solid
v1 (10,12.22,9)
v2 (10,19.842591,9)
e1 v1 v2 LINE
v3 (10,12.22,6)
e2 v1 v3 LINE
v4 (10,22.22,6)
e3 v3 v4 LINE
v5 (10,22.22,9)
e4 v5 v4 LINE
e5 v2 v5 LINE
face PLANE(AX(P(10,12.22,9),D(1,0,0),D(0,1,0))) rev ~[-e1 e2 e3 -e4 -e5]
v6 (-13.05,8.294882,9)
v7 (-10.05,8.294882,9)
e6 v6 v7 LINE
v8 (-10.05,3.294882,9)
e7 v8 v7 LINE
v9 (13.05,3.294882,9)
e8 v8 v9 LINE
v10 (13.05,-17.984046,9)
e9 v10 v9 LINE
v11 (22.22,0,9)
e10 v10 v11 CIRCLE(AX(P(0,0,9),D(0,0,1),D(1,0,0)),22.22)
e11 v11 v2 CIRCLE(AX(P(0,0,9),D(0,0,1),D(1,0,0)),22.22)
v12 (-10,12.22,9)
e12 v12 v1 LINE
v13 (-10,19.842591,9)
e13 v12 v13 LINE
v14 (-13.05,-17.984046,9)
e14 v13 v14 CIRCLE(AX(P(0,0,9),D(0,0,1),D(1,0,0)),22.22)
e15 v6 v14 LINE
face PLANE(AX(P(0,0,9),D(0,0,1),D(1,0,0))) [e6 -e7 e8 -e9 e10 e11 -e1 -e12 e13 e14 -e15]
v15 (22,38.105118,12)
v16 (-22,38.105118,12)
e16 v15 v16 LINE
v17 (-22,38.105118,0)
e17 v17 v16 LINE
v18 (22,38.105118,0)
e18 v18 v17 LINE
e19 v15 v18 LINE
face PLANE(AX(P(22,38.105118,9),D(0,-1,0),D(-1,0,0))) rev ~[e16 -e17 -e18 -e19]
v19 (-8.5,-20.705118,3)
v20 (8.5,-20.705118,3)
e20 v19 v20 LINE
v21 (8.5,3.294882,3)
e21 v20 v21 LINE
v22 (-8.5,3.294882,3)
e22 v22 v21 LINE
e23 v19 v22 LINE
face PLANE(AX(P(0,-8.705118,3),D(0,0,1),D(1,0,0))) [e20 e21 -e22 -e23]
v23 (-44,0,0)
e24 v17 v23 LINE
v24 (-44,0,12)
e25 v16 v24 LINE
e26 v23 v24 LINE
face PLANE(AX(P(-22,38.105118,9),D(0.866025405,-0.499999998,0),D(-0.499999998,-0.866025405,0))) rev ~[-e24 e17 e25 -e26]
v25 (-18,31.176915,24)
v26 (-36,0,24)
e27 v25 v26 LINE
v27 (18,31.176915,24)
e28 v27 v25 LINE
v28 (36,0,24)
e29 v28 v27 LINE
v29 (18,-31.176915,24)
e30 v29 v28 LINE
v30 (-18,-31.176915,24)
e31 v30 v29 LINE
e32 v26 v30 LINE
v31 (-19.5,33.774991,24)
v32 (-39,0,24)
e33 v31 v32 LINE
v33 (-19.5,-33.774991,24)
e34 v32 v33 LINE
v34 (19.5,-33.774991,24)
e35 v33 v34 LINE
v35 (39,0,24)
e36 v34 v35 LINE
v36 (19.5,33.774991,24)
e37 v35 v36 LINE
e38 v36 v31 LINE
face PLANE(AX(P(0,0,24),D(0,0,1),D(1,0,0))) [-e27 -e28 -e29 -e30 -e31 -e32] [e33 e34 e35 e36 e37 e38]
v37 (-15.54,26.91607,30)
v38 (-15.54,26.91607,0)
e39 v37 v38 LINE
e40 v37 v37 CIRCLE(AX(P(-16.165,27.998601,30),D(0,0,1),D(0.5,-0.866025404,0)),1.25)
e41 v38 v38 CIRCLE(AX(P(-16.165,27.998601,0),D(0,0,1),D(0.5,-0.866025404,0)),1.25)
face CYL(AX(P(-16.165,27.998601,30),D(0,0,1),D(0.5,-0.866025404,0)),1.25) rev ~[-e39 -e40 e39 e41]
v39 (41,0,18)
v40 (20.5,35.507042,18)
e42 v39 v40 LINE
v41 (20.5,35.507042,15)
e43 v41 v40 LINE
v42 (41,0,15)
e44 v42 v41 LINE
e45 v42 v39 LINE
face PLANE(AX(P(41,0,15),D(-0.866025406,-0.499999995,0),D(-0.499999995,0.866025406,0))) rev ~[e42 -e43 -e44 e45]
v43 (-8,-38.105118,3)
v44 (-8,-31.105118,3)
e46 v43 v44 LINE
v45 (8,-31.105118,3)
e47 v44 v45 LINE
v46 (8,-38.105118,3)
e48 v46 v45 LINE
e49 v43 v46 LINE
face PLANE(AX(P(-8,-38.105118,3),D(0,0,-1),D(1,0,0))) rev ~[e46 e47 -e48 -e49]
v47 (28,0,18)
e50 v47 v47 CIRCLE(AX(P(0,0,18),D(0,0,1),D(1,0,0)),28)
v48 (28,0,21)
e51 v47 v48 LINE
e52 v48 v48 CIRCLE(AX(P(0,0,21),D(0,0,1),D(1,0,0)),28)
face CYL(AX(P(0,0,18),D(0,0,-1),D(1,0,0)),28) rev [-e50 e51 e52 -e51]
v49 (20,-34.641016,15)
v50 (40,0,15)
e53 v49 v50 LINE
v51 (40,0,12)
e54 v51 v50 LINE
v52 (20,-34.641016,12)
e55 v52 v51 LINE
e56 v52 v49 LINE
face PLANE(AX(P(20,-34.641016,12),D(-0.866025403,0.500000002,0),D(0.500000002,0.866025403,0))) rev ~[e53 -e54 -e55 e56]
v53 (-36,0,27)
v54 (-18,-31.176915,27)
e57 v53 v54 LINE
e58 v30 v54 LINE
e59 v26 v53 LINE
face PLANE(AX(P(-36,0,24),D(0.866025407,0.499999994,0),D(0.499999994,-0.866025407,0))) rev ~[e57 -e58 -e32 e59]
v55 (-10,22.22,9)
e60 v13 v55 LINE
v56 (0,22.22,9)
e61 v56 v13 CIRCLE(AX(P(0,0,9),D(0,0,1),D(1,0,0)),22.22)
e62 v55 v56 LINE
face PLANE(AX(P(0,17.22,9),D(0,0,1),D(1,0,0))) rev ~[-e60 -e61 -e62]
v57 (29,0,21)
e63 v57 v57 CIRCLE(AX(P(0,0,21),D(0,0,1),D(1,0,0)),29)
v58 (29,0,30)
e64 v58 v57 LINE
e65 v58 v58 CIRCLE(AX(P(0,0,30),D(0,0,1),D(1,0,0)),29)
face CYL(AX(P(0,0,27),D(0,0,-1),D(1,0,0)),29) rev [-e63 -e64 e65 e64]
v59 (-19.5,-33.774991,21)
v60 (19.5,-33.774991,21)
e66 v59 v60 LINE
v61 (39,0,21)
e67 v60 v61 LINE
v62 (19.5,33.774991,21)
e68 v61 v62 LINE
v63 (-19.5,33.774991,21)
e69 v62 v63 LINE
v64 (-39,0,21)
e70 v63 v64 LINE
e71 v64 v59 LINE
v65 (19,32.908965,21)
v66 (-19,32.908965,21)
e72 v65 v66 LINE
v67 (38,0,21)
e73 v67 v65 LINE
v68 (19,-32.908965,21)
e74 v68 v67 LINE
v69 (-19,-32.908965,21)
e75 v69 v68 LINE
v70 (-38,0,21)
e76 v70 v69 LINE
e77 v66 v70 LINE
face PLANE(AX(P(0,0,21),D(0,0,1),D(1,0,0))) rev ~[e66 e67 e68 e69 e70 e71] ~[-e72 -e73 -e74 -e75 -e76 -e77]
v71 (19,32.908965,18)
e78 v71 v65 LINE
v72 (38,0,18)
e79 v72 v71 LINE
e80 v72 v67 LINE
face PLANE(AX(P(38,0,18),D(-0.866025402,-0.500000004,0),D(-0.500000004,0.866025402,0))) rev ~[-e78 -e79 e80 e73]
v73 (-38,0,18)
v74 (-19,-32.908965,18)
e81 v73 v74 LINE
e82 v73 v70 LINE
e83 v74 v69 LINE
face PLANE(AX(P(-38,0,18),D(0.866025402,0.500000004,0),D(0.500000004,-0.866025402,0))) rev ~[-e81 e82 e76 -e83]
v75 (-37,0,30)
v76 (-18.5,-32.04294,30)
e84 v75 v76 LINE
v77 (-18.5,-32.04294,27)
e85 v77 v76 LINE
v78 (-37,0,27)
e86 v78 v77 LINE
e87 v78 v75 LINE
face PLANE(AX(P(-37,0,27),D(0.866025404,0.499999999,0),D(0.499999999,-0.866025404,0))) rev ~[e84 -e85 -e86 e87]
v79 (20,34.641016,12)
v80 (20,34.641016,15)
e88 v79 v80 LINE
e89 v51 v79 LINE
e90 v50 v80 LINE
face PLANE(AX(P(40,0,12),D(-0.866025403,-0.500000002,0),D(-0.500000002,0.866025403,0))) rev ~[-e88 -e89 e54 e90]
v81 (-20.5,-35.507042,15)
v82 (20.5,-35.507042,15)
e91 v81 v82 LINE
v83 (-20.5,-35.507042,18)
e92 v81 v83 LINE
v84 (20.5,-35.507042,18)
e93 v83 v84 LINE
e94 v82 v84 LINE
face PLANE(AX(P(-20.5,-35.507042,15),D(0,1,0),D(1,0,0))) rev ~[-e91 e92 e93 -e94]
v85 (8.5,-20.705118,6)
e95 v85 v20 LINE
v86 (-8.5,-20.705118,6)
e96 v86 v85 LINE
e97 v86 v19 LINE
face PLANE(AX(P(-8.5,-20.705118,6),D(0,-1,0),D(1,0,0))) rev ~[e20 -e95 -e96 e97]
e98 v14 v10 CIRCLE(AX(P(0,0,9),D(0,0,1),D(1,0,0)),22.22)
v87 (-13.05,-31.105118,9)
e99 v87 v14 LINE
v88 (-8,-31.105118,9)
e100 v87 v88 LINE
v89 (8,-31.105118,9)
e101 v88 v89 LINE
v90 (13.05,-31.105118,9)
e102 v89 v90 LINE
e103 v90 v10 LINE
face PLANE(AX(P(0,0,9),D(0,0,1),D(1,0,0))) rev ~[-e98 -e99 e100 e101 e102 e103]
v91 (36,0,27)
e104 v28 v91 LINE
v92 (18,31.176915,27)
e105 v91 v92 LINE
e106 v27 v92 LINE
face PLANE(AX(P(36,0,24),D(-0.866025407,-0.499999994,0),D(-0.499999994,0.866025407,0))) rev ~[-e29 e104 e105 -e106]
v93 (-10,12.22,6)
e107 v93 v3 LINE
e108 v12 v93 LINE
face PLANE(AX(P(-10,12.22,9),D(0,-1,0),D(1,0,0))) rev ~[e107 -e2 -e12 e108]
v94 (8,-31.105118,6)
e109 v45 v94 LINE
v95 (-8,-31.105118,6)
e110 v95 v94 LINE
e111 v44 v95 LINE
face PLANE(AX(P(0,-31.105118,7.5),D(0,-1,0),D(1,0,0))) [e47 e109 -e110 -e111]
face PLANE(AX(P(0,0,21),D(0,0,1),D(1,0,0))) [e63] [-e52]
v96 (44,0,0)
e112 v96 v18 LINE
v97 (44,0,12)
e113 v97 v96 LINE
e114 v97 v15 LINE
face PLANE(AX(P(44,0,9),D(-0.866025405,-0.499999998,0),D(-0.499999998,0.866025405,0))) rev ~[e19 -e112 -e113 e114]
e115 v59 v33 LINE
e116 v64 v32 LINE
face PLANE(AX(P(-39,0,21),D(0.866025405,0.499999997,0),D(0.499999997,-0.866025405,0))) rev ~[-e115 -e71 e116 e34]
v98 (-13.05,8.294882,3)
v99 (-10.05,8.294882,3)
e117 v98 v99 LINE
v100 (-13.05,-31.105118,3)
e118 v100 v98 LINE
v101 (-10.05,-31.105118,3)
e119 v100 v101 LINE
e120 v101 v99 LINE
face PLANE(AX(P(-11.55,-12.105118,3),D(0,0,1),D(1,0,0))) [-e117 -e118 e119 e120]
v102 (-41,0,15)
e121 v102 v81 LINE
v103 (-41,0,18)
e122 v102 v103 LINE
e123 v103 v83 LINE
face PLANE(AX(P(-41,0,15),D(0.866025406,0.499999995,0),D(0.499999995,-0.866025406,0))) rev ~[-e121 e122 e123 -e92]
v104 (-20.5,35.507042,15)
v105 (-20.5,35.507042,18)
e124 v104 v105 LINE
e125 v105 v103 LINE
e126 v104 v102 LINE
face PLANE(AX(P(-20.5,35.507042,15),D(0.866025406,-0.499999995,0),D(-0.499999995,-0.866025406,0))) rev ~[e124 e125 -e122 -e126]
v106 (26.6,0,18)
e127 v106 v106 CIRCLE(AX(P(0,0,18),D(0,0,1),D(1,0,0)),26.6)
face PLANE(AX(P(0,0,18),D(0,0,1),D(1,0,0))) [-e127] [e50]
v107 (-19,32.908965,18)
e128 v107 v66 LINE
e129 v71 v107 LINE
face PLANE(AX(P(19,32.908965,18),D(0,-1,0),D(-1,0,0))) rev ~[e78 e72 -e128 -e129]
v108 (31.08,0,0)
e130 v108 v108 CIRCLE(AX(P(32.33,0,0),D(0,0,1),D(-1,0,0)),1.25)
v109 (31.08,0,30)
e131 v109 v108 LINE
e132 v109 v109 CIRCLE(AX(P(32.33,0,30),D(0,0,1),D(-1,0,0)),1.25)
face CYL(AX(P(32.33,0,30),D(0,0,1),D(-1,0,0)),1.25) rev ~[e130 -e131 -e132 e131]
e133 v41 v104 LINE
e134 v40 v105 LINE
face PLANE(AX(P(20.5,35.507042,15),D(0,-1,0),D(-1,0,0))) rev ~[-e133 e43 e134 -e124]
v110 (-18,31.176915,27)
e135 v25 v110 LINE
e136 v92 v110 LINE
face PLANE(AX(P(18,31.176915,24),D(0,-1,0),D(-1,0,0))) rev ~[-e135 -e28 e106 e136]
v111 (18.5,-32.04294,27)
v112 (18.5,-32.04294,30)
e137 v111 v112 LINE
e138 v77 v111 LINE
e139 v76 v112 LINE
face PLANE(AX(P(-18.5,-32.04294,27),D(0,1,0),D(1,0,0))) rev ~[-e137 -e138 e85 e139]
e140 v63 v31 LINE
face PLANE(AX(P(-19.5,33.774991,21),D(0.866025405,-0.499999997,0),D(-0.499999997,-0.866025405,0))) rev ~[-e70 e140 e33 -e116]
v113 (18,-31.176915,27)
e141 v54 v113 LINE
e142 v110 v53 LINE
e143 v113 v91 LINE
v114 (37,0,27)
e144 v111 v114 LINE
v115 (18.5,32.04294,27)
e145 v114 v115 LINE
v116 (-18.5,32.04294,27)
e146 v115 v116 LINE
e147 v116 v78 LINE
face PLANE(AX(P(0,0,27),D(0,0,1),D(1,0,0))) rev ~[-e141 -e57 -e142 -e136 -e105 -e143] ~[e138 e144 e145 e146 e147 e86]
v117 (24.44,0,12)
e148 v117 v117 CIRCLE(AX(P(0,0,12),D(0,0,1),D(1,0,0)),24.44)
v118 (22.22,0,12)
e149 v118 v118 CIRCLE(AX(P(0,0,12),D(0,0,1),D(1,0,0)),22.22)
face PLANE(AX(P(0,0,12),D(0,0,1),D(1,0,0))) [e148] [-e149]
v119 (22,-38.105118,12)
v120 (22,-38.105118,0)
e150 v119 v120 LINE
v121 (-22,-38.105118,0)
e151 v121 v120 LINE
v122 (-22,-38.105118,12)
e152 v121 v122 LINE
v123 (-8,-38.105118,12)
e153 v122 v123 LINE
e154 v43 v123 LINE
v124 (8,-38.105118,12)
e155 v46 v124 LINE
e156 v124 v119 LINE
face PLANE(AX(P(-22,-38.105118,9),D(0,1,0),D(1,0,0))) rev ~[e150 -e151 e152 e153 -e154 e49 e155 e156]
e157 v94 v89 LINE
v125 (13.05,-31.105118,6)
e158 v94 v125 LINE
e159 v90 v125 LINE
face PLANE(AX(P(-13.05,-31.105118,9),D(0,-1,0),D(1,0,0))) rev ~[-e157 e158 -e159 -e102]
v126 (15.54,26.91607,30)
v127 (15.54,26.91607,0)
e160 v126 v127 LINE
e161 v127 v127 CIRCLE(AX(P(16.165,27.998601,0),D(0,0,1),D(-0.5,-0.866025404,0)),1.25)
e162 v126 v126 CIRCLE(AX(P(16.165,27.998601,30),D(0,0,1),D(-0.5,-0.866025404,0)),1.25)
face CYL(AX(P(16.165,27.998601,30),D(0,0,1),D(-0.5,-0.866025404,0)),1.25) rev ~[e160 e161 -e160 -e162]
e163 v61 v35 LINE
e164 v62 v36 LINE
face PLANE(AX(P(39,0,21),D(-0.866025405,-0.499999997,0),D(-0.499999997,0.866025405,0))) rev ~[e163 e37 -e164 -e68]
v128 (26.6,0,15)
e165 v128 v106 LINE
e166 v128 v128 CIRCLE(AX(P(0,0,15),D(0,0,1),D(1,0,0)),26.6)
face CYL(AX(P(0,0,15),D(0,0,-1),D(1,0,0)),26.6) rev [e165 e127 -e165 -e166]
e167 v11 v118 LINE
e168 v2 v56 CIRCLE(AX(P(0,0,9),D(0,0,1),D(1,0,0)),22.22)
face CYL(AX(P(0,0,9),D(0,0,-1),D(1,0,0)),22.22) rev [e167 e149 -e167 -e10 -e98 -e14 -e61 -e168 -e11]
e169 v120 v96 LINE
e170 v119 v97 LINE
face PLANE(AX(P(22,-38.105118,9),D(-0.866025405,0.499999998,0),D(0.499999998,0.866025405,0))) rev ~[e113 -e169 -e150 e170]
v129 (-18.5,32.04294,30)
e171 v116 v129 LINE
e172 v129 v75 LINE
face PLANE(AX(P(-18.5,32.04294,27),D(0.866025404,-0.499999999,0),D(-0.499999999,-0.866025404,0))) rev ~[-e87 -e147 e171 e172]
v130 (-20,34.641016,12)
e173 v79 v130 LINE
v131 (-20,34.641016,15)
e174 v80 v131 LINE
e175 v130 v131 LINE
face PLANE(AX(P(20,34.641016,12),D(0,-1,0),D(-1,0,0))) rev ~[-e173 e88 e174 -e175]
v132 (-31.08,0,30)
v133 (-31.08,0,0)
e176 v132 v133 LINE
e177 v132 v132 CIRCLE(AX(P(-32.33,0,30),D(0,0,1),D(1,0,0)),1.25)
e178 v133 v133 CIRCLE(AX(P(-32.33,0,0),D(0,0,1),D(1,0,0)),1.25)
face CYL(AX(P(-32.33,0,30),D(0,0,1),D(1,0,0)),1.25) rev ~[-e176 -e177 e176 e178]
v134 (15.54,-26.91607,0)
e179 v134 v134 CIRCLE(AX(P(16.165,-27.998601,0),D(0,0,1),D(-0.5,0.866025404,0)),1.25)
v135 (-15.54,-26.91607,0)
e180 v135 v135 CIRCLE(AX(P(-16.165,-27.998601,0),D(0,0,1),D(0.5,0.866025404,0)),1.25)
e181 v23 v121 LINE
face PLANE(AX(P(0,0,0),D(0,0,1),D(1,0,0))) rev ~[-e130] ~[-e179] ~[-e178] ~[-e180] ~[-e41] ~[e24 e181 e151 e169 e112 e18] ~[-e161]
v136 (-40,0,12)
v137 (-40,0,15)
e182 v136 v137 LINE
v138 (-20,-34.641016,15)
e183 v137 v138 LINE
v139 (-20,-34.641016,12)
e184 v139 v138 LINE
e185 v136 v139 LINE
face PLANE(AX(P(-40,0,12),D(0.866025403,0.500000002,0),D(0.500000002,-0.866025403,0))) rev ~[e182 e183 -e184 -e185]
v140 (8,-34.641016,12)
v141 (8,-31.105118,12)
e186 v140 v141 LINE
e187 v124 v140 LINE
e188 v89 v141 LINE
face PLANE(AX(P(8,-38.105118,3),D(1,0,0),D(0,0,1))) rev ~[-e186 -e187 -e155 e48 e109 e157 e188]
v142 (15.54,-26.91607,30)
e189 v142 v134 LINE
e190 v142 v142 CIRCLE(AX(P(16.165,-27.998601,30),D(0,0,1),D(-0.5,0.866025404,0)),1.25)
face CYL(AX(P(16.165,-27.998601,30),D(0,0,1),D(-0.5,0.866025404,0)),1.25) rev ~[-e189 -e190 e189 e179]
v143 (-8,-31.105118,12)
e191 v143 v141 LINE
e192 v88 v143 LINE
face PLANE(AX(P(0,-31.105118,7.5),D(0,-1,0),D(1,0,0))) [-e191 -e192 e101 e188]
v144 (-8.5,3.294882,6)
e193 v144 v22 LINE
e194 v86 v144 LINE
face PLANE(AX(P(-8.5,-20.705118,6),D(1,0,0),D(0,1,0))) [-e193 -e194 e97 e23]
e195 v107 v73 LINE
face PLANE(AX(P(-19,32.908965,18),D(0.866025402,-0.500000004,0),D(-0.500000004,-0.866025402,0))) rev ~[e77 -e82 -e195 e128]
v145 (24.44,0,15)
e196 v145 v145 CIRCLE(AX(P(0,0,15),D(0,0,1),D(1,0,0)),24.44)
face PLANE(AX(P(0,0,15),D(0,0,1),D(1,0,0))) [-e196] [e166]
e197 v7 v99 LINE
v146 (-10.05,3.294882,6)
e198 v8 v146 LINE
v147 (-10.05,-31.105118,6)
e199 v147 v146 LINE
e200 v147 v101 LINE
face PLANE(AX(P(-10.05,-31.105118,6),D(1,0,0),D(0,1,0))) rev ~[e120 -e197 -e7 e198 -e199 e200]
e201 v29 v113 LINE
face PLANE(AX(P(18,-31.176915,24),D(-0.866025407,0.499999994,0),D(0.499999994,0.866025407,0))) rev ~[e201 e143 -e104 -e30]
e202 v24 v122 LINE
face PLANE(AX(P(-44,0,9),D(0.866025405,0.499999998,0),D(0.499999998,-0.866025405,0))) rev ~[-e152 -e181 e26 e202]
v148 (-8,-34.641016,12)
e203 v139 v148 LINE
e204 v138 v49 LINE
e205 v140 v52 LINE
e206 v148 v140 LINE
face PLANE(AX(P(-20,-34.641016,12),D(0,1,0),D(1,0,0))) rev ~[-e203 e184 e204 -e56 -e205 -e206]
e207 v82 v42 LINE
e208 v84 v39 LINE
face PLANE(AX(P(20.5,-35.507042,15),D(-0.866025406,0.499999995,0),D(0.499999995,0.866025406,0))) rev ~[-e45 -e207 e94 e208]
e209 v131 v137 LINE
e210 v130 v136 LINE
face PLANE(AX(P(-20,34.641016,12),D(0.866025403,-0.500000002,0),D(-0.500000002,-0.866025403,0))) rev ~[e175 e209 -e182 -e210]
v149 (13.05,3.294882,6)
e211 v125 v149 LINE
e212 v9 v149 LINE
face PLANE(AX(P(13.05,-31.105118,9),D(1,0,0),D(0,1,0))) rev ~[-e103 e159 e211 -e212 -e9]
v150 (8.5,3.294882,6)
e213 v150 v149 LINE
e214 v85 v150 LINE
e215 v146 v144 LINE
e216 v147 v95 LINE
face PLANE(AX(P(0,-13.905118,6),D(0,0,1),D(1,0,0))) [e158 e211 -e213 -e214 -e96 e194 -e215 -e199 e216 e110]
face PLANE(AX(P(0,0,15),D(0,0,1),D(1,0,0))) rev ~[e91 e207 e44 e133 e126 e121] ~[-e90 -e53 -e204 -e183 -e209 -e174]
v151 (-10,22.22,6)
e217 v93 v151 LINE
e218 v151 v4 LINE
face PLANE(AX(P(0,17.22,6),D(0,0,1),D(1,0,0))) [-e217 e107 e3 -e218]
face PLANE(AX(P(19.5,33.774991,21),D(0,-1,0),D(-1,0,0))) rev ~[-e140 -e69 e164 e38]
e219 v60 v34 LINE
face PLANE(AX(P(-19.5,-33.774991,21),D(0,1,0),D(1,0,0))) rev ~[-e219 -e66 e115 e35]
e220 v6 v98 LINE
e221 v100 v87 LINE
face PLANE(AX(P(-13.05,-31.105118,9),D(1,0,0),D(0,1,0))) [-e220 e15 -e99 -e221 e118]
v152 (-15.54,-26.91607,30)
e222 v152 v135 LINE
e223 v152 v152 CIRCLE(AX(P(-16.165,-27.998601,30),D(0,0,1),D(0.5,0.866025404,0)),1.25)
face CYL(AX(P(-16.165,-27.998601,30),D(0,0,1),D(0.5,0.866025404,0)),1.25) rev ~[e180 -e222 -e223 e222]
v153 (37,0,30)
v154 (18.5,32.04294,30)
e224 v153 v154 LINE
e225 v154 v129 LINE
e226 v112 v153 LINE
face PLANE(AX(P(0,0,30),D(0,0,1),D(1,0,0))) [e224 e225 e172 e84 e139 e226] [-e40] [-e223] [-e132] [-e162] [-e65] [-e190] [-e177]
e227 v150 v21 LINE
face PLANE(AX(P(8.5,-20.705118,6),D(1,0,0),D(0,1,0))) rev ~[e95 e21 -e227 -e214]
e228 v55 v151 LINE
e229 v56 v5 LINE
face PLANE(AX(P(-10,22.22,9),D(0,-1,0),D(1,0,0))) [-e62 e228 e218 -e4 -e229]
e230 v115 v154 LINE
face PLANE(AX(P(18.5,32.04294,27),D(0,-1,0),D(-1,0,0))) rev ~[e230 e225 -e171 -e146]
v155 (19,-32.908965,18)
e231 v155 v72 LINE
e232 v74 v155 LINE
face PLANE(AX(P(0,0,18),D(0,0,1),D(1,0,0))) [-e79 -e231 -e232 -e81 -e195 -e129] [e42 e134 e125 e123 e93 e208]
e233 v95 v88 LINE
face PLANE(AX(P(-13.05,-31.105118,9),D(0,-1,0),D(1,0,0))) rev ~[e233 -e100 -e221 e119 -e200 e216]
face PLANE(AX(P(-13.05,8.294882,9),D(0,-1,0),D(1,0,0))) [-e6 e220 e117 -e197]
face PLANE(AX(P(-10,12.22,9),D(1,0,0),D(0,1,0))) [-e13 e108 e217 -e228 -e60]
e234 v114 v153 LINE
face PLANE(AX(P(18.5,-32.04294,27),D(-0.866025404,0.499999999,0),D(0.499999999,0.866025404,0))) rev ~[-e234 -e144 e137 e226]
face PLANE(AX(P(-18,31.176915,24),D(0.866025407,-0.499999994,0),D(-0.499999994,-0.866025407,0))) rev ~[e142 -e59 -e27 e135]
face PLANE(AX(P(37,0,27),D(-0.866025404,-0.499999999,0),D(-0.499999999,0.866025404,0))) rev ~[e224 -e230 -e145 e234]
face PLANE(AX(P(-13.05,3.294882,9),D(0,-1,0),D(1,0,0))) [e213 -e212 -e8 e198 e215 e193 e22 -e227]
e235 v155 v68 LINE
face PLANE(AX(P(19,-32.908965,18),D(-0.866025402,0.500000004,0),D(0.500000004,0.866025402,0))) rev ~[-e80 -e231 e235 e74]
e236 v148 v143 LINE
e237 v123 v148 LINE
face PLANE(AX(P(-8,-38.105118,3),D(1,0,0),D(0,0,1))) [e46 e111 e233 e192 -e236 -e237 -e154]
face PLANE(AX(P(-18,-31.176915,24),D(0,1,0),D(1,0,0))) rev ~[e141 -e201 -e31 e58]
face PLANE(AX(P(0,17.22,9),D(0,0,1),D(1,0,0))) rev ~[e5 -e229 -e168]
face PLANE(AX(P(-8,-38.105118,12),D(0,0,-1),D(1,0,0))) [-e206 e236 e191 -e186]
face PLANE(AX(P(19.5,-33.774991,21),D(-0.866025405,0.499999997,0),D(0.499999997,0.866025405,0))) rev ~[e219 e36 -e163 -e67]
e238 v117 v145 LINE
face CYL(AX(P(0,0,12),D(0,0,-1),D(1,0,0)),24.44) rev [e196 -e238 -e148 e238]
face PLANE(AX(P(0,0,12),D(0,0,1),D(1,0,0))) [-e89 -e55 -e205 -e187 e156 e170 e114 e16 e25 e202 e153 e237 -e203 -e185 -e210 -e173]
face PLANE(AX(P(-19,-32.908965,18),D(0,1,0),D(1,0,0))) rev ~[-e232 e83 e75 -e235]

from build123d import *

# Parameters (mm, degrees)
PAD_DEPTH          = 9
SKETCH001_W        = 26.1
SKETCH001_H        = 34.4
POCKET_DEPTH       = 3
SKETCH002_R        = 22.22
PAD001_DEPTH       = 3
SKETCH003_R        = 24.44
PAD002_DEPTH       = 3
SKETCH004_R        = 26.6
PAD003_DEPTH       = 3
SKETCH005_R        = 28
PAD004_DEPTH       = 3
SKETCH006_R        = 29
PAD005_DEPTH       = 3
SKETCH007_R        = 29
PAD006_DEPTH       = 3
SKETCH008_R        = 29
PAD007_DEPTH       = 3
SKETCH009_W        = 17
SKETCH009_H        = 24
POCKET001_DEPTH    = 3
SKETCH010_W        = 16
SKETCH010_H        = 9
POCKET002_DEPTH    = 7
SKETCH011_W        = 20
SKETCH011_H        = 10
POCKET003_DEPTH    = 3
SKETCH012_R        = 1.25
POCKET004_DEPTH    = 270.433943
POLARPATTERN_COUNT = 6
SKETCH013_W        = 3
SKETCH013_H        = 38
POCKET005_DEPTH    = 3
SKETCH014_W        = 3
SKETCH014_H        = 5
POCKET006_DEPTH    = 6


with BuildPart() as part:
    # Sketch → Pad (new body)
    with BuildSketch(Plane.XY):
        Polygon((44, 0), (22, 38.105118), (-22, 38.105118), (-44, 0), (-22, -38.105118), (22, -38.105118), align=None)
    extrude(amount=PAD_DEPTH)

    # Sketch001 (on Face8 of Pad) → Pocket (cut)
    with BuildSketch(Plane.XY.offset(9)):
        with Locations((0, -13.905118)):
            Rectangle(SKETCH001_W, SKETCH001_H)
    extrude(amount=-POCKET_DEPTH, mode=Mode.SUBTRACT)

    # Sketch002 (on Face5 of Pocket) → Pad001 (join)
    with BuildSketch(Plane.XY.offset(9)):
        Polygon((22, 38.105118), (-22, 38.105118), (-44, 0), (-22, -38.105118), (22, -38.105118), (44, 0), align=None)
        Circle(SKETCH002_R, mode=Mode.SUBTRACT)
    extrude(amount=PAD001_DEPTH)

    # Sketch003 (on Face14 of Pad001) → Pad002 (join)
    with BuildSketch(Plane.XY.offset(12)):
        Polygon((40, 0), (20, 34.641016), (-20, 34.641016), (-40, 0), (-20, -34.641016), (20, -34.641016), align=None)
        Circle(SKETCH003_R, mode=Mode.SUBTRACT)
    extrude(amount=PAD002_DEPTH)

    # Sketch004 (on Face21 of Pad002) → Pad003 (join)
    with BuildSketch(Plane.XY.offset(15)):
        Polygon((41, 0), (20.5, 35.507042), (-20.5, 35.507042), (-41, 0), (-20.5, -35.507042), (20.5, -35.507042), align=None)
        Circle(SKETCH004_R, mode=Mode.SUBTRACT)
    extrude(amount=PAD003_DEPTH)

    # Sketch005 (on Face28 of Pad003) → Pad004 (join)
    with BuildSketch(Plane.XY.offset(18)):
        Polygon((19, 32.908965), (-19, 32.908965), (-38, 0), (-19, -32.908965), (19, -32.908965), (38, 0), align=None)
        Circle(SKETCH005_R, mode=Mode.SUBTRACT)
    extrude(amount=PAD004_DEPTH)

    # Sketch006 (on Face35 of Pad004) → Pad005 (join)
    with BuildSketch(Plane.XY.offset(21)):
        Polygon((39, 0), (19.5, 33.774991), (-19.5, 33.774991), (-39, 0), (-19.5, -33.774991), (19.5, -33.774991), align=None)
        Circle(SKETCH006_R, mode=Mode.SUBTRACT)
    extrude(amount=PAD005_DEPTH)

    # Sketch007 (on Face42 of Pad005) → Pad006 (join)
    with BuildSketch(Plane.XY.offset(24)):
        Polygon((36, 0), (18, 31.176915), (-18, 31.176915), (-36, 0), (-18, -31.176915), (18, -31.176915), align=None)
        Circle(SKETCH007_R, mode=Mode.SUBTRACT)
    extrude(amount=PAD006_DEPTH)

    # Sketch008 (on Face49 of Pad006) → Pad007 (join)
    with BuildSketch(Plane.XY.offset(27)):
        Polygon((37, 0), (18.5, 32.04294), (-18.5, 32.04294), (-37, 0), (-18.5, -32.04294), (18.5, -32.04294), align=None)
        Circle(SKETCH008_R, mode=Mode.SUBTRACT)
    extrude(amount=PAD007_DEPTH)

    # Sketch009 (on Face74 of Pad007) → Pocket001 (cut)
    with BuildSketch(Plane.XY.offset(6)):
        with Locations((0, -8.705118)):
            Rectangle(SKETCH009_W, SKETCH009_H)
    extrude(amount=-POCKET001_DEPTH, mode=Mode.SUBTRACT)

    # Sketch010 (on Face12 of Pocket001) → Pocket002 (cut)
    with BuildSketch(Plane.XZ.offset(38.105118)):
        with Locations((0, 7.5)):
            Rectangle(SKETCH010_W, SKETCH010_H)
    extrude(amount=-POCKET002_DEPTH, mode=Mode.SUBTRACT)

    # Sketch011 (on Face40 of Pocket002) → Pocket003 (cut)
    with BuildSketch(Plane.XY.offset(9)):
        with Locations((0, 17.22)):
            Rectangle(SKETCH011_W, SKETCH011_H)
    extrude(amount=-POCKET003_DEPTH, mode=Mode.SUBTRACT)

    # Sketch012 (on Face93 of Pocket003) → Pocket004 (cut, through all)
    with BuildSketch(Plane.XY.offset(30)):
        with Locations((-32.33, 0)):
            Circle(SKETCH012_R)
    pocket004 = extrude(amount=-POCKET004_DEPTH, mode=Mode.SUBTRACT)

    # PolarPattern: Pocket004 ×6 about axis
    polarpattern_axis = Axis((0, 0, 30), (0, 0, 1))
    for i in range(1, POLARPATTERN_COUNT):
        add(pocket004.rotate(polarpattern_axis, i * 360 / POLARPATTERN_COUNT), mode=Mode.SUBTRACT)

    # Sketch013 (on Face45 of PolarPattern) → Pocket005 (cut)
    with BuildSketch(Plane.XY.offset(6)):
        with Locations((-11.55, -12.105118)):
            Rectangle(SKETCH013_W, SKETCH013_H)
    extrude(amount=-POCKET005_DEPTH, mode=Mode.SUBTRACT)

    # Sketch014 (on Face58 of Pocket005) → Pocket006 (cut)
    with BuildSketch(Plane.XY.offset(9)):
        with Locations((-11.55, 5.794882)):
            Rectangle(SKETCH014_W, SKETCH014_H)
    extrude(amount=-POCKET006_DEPTH, mode=Mode.SUBTRACT)


solid = part.part
